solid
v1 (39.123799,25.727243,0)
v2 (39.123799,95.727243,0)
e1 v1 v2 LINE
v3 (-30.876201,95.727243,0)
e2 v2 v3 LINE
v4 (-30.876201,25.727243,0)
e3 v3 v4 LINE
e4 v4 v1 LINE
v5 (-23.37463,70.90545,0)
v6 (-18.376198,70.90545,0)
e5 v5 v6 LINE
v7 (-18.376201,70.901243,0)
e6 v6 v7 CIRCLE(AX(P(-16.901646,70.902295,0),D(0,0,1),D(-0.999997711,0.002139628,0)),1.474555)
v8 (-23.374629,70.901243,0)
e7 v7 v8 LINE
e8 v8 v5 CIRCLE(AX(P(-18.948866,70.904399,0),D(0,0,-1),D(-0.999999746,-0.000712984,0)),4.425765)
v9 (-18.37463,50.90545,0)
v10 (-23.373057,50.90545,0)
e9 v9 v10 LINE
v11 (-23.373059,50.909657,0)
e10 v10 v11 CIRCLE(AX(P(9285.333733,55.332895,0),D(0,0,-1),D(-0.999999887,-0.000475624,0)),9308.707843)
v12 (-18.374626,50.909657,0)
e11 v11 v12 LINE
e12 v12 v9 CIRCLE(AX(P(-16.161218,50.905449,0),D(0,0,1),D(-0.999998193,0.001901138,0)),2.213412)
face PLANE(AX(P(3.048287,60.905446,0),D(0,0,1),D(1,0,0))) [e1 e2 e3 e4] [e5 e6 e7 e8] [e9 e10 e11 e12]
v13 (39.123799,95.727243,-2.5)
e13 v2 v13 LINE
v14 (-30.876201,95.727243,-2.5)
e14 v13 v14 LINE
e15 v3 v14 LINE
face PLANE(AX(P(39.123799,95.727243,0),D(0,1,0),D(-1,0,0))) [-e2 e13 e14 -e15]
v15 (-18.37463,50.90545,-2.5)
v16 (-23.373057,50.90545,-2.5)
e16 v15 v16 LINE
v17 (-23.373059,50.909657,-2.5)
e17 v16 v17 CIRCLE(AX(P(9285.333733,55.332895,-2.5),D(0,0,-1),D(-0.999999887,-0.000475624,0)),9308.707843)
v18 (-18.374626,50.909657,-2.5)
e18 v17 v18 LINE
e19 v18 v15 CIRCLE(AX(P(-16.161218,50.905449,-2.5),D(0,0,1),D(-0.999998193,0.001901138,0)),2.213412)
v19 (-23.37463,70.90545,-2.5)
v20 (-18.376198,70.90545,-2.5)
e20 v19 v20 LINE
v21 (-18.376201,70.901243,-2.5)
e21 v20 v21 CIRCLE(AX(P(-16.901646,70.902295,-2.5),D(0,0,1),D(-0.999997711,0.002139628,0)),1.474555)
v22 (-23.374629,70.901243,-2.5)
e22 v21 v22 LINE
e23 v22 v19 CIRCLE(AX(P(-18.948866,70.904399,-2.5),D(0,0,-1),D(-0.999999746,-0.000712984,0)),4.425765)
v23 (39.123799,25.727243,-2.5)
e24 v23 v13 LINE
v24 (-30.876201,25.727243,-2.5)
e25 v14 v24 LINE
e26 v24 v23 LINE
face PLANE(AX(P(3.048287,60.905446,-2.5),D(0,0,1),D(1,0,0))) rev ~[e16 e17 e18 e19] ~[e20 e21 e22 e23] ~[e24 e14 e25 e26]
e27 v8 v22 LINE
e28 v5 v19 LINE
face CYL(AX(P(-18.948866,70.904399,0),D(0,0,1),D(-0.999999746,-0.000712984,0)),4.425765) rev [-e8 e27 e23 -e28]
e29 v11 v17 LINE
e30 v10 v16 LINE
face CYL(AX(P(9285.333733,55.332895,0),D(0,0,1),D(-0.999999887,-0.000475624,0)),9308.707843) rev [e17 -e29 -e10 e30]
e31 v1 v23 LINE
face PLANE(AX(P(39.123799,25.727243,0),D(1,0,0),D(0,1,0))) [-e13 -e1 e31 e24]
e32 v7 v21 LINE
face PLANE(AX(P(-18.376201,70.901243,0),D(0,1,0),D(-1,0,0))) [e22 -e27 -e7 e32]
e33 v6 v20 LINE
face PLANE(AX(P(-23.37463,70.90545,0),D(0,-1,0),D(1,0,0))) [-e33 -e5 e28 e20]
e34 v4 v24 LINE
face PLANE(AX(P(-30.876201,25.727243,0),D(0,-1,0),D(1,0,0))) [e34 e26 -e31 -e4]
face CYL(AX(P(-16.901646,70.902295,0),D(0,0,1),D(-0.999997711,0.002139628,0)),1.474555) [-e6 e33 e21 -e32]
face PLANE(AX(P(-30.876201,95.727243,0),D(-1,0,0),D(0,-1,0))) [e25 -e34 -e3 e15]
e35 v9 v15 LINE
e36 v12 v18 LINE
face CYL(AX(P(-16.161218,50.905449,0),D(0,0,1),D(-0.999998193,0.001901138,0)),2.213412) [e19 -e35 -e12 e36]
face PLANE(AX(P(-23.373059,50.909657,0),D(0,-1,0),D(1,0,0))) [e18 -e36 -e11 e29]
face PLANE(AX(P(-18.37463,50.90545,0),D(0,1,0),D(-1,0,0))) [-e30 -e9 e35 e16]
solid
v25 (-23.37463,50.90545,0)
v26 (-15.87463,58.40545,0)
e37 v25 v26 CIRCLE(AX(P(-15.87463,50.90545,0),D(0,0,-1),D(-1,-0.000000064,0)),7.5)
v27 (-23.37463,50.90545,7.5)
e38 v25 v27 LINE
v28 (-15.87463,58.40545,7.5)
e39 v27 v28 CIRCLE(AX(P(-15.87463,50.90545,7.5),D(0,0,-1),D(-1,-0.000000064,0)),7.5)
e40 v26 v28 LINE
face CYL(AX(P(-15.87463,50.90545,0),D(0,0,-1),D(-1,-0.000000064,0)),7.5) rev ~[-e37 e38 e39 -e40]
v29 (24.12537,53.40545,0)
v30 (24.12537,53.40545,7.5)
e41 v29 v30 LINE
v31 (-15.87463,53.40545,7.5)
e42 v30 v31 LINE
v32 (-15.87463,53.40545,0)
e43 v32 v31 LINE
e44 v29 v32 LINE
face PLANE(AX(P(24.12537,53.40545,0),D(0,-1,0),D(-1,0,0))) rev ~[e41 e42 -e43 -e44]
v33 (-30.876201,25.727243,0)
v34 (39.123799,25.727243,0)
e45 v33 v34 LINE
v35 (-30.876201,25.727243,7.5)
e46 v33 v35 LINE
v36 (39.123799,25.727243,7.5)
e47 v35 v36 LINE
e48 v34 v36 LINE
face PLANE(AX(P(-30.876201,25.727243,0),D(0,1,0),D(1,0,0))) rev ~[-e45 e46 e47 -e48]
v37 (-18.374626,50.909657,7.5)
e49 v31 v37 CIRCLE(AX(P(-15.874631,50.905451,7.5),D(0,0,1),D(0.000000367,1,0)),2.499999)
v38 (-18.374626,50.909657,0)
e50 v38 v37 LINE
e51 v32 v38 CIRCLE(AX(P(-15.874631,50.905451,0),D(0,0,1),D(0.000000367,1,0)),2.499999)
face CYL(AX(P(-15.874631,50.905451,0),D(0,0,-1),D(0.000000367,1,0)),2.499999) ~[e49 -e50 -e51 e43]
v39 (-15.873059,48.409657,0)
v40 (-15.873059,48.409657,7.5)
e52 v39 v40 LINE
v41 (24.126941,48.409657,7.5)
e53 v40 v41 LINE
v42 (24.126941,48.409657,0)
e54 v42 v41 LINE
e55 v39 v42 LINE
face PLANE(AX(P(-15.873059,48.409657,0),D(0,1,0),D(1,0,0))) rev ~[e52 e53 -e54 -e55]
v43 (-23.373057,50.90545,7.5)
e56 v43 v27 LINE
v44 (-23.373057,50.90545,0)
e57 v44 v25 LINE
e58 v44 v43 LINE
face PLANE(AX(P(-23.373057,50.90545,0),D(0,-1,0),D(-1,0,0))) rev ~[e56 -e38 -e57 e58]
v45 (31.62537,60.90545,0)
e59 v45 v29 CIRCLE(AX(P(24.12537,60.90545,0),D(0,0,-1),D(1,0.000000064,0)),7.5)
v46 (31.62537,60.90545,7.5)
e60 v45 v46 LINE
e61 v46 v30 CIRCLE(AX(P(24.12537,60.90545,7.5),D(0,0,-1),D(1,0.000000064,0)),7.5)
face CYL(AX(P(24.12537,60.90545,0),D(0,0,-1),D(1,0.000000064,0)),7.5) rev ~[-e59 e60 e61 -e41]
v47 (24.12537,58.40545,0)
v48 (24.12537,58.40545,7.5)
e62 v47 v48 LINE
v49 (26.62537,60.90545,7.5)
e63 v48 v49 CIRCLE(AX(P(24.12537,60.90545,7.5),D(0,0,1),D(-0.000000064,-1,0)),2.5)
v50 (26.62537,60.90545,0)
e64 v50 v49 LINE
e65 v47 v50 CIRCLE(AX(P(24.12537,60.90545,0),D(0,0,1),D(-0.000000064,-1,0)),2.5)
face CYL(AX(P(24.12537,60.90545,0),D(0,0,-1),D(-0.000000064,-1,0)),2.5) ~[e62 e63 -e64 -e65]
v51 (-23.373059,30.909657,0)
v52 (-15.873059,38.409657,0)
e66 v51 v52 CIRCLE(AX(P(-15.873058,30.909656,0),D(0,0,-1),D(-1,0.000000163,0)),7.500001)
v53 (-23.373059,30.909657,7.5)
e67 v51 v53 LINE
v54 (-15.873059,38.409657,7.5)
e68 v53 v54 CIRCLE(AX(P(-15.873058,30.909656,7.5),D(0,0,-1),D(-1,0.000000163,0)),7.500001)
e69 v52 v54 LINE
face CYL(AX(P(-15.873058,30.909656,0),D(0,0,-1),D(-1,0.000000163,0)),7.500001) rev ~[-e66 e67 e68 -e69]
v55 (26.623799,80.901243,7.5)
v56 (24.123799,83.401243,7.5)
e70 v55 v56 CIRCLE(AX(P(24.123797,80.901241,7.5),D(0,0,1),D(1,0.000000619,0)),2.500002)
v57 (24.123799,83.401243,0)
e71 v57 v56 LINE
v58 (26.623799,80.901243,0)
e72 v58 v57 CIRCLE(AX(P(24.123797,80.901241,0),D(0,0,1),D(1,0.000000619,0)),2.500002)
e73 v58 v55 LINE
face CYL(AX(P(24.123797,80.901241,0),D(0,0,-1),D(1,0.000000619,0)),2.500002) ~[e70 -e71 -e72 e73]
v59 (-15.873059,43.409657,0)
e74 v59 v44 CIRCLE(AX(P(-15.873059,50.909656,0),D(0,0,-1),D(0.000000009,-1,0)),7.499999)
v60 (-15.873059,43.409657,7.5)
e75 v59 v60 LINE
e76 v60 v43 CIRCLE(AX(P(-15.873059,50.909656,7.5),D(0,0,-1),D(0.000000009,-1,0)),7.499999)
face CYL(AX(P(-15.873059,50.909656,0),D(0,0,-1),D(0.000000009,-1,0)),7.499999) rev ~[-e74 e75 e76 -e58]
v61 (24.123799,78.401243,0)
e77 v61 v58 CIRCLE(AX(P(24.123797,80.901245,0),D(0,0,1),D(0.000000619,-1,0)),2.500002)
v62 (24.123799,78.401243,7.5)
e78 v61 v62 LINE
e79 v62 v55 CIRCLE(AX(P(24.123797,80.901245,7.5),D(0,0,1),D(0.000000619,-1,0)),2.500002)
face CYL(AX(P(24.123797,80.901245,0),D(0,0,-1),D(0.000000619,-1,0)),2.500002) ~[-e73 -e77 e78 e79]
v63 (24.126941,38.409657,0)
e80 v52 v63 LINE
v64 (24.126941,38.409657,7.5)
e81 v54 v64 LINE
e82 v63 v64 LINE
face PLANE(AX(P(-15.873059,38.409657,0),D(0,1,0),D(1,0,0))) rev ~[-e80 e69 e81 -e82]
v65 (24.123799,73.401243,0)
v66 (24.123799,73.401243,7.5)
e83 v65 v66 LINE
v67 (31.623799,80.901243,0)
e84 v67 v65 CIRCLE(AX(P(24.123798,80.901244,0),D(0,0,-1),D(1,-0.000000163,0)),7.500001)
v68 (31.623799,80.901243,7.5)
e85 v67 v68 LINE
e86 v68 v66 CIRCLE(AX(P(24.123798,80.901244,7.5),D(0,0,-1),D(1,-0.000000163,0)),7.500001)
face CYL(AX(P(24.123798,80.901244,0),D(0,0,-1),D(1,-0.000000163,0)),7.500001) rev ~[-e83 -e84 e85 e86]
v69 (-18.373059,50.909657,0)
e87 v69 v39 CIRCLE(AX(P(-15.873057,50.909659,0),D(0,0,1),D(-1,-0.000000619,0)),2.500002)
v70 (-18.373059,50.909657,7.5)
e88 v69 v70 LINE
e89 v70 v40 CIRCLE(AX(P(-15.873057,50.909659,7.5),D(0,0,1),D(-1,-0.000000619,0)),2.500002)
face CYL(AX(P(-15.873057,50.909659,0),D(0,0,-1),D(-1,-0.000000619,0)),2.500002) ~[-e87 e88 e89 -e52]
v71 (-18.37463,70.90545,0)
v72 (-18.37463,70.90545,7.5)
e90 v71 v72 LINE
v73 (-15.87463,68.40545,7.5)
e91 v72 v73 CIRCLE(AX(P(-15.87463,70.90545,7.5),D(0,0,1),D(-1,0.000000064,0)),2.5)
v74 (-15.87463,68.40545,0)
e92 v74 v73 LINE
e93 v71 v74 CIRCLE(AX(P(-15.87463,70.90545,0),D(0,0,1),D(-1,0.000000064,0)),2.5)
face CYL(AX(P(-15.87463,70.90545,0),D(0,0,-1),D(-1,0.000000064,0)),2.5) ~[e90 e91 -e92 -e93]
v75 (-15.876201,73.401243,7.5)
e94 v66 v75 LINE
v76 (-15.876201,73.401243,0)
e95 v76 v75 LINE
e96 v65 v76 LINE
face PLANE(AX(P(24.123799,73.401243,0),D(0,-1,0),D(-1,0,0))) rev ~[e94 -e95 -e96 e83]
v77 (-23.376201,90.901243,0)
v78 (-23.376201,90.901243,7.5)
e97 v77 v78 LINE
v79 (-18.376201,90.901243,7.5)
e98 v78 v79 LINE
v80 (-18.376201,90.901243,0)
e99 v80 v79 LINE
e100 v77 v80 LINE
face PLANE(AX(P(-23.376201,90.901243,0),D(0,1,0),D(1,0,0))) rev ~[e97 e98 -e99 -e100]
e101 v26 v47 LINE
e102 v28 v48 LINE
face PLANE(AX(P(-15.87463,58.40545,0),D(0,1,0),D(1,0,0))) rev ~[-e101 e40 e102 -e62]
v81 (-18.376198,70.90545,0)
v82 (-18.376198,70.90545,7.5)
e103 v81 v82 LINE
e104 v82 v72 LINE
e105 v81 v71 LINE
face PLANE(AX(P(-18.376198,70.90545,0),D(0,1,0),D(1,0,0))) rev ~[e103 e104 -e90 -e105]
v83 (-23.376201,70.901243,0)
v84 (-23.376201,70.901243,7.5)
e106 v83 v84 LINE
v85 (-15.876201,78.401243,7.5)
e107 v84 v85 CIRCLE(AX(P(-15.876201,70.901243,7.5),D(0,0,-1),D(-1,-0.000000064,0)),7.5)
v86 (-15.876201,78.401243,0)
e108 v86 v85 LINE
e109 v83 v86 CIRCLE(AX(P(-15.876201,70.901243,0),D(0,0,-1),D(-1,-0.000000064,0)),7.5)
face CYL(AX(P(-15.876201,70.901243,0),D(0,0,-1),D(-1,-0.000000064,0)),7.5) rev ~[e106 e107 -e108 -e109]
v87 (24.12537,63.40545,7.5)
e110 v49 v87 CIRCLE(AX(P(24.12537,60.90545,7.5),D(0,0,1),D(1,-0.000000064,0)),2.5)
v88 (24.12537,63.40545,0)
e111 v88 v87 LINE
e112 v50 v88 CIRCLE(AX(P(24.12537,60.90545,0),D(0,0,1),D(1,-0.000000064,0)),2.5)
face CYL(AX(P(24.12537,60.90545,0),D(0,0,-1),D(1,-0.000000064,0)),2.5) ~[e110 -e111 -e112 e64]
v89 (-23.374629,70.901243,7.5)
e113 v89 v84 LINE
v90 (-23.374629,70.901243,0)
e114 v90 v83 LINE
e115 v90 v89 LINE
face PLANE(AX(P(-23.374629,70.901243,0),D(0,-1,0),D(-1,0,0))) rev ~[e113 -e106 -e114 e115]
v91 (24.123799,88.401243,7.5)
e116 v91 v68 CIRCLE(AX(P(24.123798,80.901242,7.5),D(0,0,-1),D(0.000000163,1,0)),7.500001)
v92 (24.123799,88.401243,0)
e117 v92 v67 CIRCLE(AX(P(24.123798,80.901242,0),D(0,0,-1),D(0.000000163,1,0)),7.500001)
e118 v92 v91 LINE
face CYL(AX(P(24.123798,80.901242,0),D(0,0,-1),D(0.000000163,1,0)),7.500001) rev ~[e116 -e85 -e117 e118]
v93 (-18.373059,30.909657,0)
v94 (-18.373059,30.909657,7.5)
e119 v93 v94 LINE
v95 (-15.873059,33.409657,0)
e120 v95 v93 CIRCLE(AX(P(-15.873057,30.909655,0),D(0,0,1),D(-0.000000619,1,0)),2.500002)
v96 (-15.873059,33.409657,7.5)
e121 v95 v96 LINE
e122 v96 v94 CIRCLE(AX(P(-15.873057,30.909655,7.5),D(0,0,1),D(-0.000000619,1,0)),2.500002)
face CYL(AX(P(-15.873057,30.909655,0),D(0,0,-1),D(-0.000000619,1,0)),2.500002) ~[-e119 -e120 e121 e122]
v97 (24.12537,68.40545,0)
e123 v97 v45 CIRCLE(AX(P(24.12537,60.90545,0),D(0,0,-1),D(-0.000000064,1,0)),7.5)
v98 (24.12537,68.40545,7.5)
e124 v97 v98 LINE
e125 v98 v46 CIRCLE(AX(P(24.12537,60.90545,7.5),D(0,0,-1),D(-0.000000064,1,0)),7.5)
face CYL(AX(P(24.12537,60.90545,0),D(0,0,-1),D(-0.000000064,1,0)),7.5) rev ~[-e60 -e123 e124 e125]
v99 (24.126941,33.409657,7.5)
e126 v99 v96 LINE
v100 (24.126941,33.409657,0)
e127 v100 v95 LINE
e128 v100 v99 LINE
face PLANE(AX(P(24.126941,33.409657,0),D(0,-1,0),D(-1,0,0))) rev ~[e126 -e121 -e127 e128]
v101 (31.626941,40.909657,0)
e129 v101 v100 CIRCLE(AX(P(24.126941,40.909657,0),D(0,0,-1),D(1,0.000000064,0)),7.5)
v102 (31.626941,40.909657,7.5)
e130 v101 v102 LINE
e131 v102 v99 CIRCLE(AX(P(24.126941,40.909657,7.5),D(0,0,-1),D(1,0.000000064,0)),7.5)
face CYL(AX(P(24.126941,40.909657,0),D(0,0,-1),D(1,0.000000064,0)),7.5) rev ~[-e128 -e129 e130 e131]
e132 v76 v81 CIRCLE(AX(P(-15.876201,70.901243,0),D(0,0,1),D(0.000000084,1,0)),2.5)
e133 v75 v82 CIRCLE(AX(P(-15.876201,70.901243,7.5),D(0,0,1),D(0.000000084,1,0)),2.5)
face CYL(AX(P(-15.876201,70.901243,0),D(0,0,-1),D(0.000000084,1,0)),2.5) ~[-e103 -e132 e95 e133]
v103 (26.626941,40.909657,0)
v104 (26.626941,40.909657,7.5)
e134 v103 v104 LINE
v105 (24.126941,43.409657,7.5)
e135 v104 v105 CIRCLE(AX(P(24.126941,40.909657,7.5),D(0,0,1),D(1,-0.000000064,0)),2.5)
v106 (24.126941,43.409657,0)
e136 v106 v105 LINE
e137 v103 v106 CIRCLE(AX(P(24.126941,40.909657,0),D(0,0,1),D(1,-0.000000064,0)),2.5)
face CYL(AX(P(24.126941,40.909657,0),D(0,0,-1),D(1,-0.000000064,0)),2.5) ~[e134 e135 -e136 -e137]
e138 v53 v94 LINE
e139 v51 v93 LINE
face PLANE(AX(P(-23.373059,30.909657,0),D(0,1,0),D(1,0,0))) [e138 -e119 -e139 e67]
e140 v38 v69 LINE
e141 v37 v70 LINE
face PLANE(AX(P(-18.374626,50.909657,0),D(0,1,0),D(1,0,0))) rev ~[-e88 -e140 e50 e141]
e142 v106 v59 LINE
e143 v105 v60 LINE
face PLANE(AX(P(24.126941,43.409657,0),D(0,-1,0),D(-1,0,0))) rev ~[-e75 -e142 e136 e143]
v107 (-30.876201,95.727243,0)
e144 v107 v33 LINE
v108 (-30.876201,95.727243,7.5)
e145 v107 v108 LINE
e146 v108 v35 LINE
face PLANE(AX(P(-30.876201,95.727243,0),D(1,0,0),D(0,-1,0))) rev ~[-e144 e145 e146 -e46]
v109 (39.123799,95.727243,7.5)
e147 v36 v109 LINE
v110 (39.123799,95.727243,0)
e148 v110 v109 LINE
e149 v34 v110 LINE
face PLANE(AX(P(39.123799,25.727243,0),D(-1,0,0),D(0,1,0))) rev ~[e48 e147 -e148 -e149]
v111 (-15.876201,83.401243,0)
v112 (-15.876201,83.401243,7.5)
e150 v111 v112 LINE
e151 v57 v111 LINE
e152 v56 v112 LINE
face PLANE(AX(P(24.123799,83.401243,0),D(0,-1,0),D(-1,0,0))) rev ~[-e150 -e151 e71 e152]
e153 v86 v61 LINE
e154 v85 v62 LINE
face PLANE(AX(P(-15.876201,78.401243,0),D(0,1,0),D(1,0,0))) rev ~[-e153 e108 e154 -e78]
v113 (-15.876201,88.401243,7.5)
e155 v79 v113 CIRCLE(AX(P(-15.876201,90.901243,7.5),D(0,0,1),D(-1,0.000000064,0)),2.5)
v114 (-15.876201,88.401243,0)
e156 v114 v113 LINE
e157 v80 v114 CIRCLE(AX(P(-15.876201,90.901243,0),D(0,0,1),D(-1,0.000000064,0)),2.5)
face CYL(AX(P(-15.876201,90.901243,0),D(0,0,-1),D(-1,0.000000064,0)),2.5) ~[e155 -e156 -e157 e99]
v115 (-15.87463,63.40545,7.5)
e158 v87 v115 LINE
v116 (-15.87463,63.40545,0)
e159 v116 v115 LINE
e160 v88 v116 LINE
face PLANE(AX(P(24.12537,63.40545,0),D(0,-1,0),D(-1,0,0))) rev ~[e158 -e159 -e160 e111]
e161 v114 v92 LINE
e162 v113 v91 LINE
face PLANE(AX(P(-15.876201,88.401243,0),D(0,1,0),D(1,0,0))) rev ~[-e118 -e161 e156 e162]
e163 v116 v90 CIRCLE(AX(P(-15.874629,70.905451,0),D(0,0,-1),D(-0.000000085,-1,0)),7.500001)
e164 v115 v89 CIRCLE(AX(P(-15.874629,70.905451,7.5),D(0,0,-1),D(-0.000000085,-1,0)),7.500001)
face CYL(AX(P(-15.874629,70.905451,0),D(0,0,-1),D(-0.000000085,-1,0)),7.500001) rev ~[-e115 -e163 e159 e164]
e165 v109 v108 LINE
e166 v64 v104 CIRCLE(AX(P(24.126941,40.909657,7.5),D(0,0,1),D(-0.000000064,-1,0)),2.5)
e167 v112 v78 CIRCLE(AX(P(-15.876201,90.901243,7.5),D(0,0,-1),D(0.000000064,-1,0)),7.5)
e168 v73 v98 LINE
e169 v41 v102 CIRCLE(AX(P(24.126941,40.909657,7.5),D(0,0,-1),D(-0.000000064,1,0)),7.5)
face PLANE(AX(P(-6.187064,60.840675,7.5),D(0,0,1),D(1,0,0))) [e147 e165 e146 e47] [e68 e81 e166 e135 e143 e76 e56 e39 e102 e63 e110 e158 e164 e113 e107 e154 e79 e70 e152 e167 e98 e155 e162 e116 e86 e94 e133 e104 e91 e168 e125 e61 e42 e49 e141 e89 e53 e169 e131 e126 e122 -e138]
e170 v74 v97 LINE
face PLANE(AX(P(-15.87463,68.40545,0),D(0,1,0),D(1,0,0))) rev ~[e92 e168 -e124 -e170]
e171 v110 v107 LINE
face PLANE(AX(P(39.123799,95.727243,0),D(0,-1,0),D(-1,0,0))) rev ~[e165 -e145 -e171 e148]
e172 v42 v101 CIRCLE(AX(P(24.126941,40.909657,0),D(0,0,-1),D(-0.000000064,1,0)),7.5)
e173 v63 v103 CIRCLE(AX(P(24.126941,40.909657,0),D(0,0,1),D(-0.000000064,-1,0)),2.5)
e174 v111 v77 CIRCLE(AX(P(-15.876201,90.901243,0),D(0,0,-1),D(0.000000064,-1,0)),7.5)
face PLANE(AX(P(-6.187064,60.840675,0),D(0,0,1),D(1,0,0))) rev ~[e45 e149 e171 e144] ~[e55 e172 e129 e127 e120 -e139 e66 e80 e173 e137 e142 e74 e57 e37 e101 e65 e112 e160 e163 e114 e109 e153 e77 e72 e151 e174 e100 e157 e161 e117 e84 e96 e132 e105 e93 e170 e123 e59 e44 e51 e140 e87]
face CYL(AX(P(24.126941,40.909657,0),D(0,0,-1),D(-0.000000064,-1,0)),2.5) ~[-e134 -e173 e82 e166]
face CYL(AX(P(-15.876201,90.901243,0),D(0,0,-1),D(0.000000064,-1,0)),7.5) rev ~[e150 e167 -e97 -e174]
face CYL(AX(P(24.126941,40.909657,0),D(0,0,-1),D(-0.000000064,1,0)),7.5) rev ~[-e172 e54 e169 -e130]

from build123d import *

# Parameters (mm, degrees)
F0_W     = 5
F0_H     = 4.826
F0_H_2   = 5.182414
F1_DEPTH = 7.5
F2_DEPTH = 2.5


with BuildPart() as f1:
    # F0 (on Top) → F1 (new body)
    with BuildSketch(Plane.XY):
        with BuildLine():
            ThreePointArc((-15.873059, 43.409657), (-21.174872, 45.604869), (-23.373057, 50.90545))
            Line((-23.373057, 50.90545), (-23.37463, 50.90545))
            ThreePointArc((-23.37463, 50.90545), (-21.177931, 56.208751), (-15.87463, 58.40545))
            Line((-15.87463, 58.40545), (24.12537, 58.40545))
            ThreePointArc((24.12537, 58.40545), (25.893137, 59.137683), (26.62537, 60.90545))
            ThreePointArc((26.62537, 60.90545), (25.893137, 62.673217), (24.12537, 63.40545))
            Line((24.12537, 63.40545), (-15.87463, 63.40545))
            ThreePointArc((-15.87463, 63.40545), (-21.176443, 65.600662), (-23.374629, 70.901243))
            Line((-23.374629, 70.901243), (-23.376201, 70.901243))
            ThreePointArc((-23.376201, 70.901243), (-21.179502, 76.204544), (-15.876201, 78.401243))
            Line((-15.876201, 78.401243), (24.123799, 78.401243))
            ThreePointArc((24.123799, 78.401243), (25.891565, 79.133476), (26.623799, 80.901243))
            ThreePointArc((26.623799, 80.901243), (25.891565, 82.66901), (24.123799, 83.401243))
            Line((24.123799, 83.401243), (-15.876201, 83.401243))
            ThreePointArc((-15.876201, 83.401243), (-21.179502, 85.597942), (-23.376201, 90.901243))
            Line((-23.376201, 90.901243), (-23.376201, 95.727243))
            Line((-23.376201, 95.727243), (-30.876201, 95.727243))
            Line((-30.876201, 95.727243), (-30.876201, 25.727243))
            Line((-30.876201, 25.727243), (-23.373059, 25.727243))
            Line((-23.373059, 25.727243), (-23.373059, 30.909657))
            ThreePointArc((-23.373059, 30.909657), (-21.176359, 36.212958), (-15.873059, 38.409657))
            Line((-15.873059, 38.409657), (24.126941, 38.409657))
            ThreePointArc((24.126941, 38.409657), (25.894708, 39.14189), (26.626941, 40.909657))
            ThreePointArc((26.626941, 40.909657), (25.894708, 42.677424), (24.126941, 43.409657))
            Line((24.126941, 43.409657), (-15.873059, 43.409657))
        make_face()
        with BuildLine():
            ThreePointArc((-15.87463, 53.40545), (-17.640909, 52.674704), (-18.374626, 50.909657))
            Line((-18.374626, 50.909657), (-18.373059, 50.909657))
            ThreePointArc((-18.373059, 50.909657), (-17.640825, 49.14189), (-15.873059, 48.409657))
            Line((-15.873059, 48.409657), (24.126941, 48.409657))
            ThreePointArc((24.126941, 48.409657), (29.430242, 46.212958), (31.626941, 40.909657))
            ThreePointArc((31.626941, 40.909657), (29.430242, 35.606356), (24.126941, 33.409657))
            Line((24.126941, 33.409657), (-15.873059, 33.409657))
            ThreePointArc((-15.873059, 33.409657), (-17.640825, 32.677424), (-18.373059, 30.909657))
            Line((-18.373059, 30.909657), (-18.373059, 25.727243))
            Line((-18.373059, 25.727243), (39.123799, 25.727243))
            Line((39.123799, 25.727243), (39.123799, 95.727243))
            Line((39.123799, 95.727243), (-18.376201, 95.727243))
            Line((-18.376201, 95.727243), (-18.376201, 90.901243))
            ThreePointArc((-18.376201, 90.901243), (-17.643968, 89.133476), (-15.876201, 88.401243))
            Line((-15.876201, 88.401243), (24.123799, 88.401243))
            ThreePointArc((24.123799, 88.401243), (29.427099, 86.204544), (31.623799, 80.901243))
            ThreePointArc((31.623799, 80.901243), (29.427099, 75.597942), (24.123799, 73.401243))
            Line((24.123799, 73.401243), (-15.876201, 73.401243))
            ThreePointArc((-15.876201, 73.401243), (-17.64248, 72.670497), (-18.376198, 70.90545))
            Line((-18.376198, 70.90545), (-18.37463, 70.90545))
            ThreePointArc((-18.37463, 70.90545), (-17.642397, 69.137683), (-15.87463, 68.40545))
            Line((-15.87463, 68.40545), (24.12537, 68.40545))
            ThreePointArc((24.12537, 68.40545), (29.428671, 66.208751), (31.62537, 60.90545))
            ThreePointArc((31.62537, 60.90545), (29.428671, 55.602149), (24.12537, 53.40545))
            Line((24.12537, 53.40545), (-15.87463, 53.40545))
        make_face()
        with Locations((-20.876201, 93.314243)):
            Rectangle(F0_W, F0_H)
        with Locations((-20.873059, 28.31845)):
            Rectangle(F0_W, F0_H_2)
    extrude(amount=F1_DEPTH)


with BuildPart() as f2:
    # F0 (on Top) → F2 (new body)
    with BuildSketch(Plane.XY):
        with BuildLine():
            ThreePointArc((-23.373057, 50.90545), (-23.373058, 50.907553), (-23.373059, 50.909657))
            Line((-23.373059, 50.909657), (-18.374626, 50.909657))
            ThreePointArc((-18.374626, 50.909657), (-17.640909, 52.674704), (-15.87463, 53.40545))
            Line((-15.87463, 53.40545), (24.12537, 53.40545))
            ThreePointArc((24.12537, 53.40545), (29.428671, 55.602149), (31.62537, 60.90545))
            ThreePointArc((31.62537, 60.90545), (29.428671, 66.208751), (24.12537, 68.40545))
            Line((24.12537, 68.40545), (-15.87463, 68.40545))
            ThreePointArc((-15.87463, 68.40545), (-17.642397, 69.137683), (-18.37463, 70.90545))
            Line((-18.37463, 70.90545), (-18.376198, 70.90545))
            ThreePointArc((-18.376198, 70.90545), (-18.376201, 70.903347), (-18.376201, 70.901243))
            Line((-18.376201, 70.901243), (-23.374629, 70.901243))
            ThreePointArc((-23.374629, 70.901243), (-21.176443, 65.600662), (-15.87463, 63.40545))
            Line((-15.87463, 63.40545), (24.12537, 63.40545))
            ThreePointArc((24.12537, 63.40545), (25.893137, 62.673217), (26.62537, 60.90545))
            ThreePointArc((26.62537, 60.90545), (25.893137, 59.137683), (24.12537, 58.40545))
            Line((24.12537, 58.40545), (-15.87463, 58.40545))
            ThreePointArc((-15.87463, 58.40545), (-21.177931, 56.208751), (-23.37463, 50.90545))
            Line((-23.37463, 50.90545), (-23.373057, 50.90545))
        make_face()
        with BuildLine():
            Line((-18.373059, 50.909657), (-18.374626, 50.909657))
            ThreePointArc((-18.374626, 50.909657), (-18.374629, 50.907553), (-18.37463, 50.90545))
            Line((-18.37463, 50.90545), (-23.373057, 50.90545))
            ThreePointArc((-23.373057, 50.90545), (-21.174872, 45.604869), (-15.873059, 43.409657))
            Line((-15.873059, 43.409657), (24.126941, 43.409657))
            ThreePointArc((24.126941, 43.409657), (25.894708, 42.677424), (26.626941, 40.909657))
            ThreePointArc((26.626941, 40.909657), (25.894708, 39.14189), (24.126941, 38.409657))
            Line((24.126941, 38.409657), (-15.873059, 38.409657))
            ThreePointArc((-15.873059, 38.409657), (-21.176359, 36.212958), (-23.373059, 30.909657))
            Line((-23.373059, 30.909657), (-18.373059, 30.909657))
            ThreePointArc((-18.373059, 30.909657), (-17.640825, 32.677424), (-15.873059, 33.409657))
            Line((-15.873059, 33.409657), (24.126941, 33.409657))
            ThreePointArc((24.126941, 33.409657), (29.430242, 35.606356), (31.626941, 40.909657))
            ThreePointArc((31.626941, 40.909657), (29.430242, 46.212958), (24.126941, 48.409657))
            Line((24.126941, 48.409657), (-15.873059, 48.409657))
            ThreePointArc((-15.873059, 48.409657), (-17.640825, 49.14189), (-18.373059, 50.909657))
        make_face()
        with Locations((-20.876201, 93.314243)):
            Rectangle(F0_W, F0_H)
        with Locations((-20.873059, 28.31845)):
            Rectangle(F0_W, F0_H_2)
        with BuildLine():
            ThreePointArc((-15.873059, 43.409657), (-21.174872, 45.604869), (-23.373057, 50.90545))
            Line((-23.373057, 50.90545), (-23.37463, 50.90545))
            ThreePointArc((-23.37463, 50.90545), (-21.177931, 56.208751), (-15.87463, 58.40545))
            Line((-15.87463, 58.40545), (24.12537, 58.40545))
            ThreePointArc((24.12537, 58.40545), (25.893137, 59.137683), (26.62537, 60.90545))
            ThreePointArc((26.62537, 60.90545), (25.893137, 62.673217), (24.12537, 63.40545))
            Line((24.12537, 63.40545), (-15.87463, 63.40545))
            ThreePointArc((-15.87463, 63.40545), (-21.176443, 65.600662), (-23.374629, 70.901243))
            Line((-23.374629, 70.901243), (-23.376201, 70.901243))
            ThreePointArc((-23.376201, 70.901243), (-21.179502, 76.204544), (-15.876201, 78.401243))
            Line((-15.876201, 78.401243), (24.123799, 78.401243))
            ThreePointArc((24.123799, 78.401243), (25.891565, 79.133476), (26.623799, 80.901243))
            ThreePointArc((26.623799, 80.901243), (25.891565, 82.66901), (24.123799, 83.401243))
            Line((24.123799, 83.401243), (-15.876201, 83.401243))
            ThreePointArc((-15.876201, 83.401243), (-21.179502, 85.597942), (-23.376201, 90.901243))
            Line((-23.376201, 90.901243), (-23.376201, 95.727243))
            Line((-23.376201, 95.727243), (-30.876201, 95.727243))
            Line((-30.876201, 95.727243), (-30.876201, 25.727243))
            Line((-30.876201, 25.727243), (-23.373059, 25.727243))
            Line((-23.373059, 25.727243), (-23.373059, 30.909657))
            ThreePointArc((-23.373059, 30.909657), (-21.176359, 36.212958), (-15.873059, 38.409657))
            Line((-15.873059, 38.409657), (24.126941, 38.409657))
            ThreePointArc((24.126941, 38.409657), (25.894708, 39.14189), (26.626941, 40.909657))
            ThreePointArc((26.626941, 40.909657), (25.894708, 42.677424), (24.126941, 43.409657))
            Line((24.126941, 43.409657), (-15.873059, 43.409657))
        make_face()
        with BuildLine():
            Line((-23.37463, 70.90545), (-18.376198, 70.90545))
            ThreePointArc((-18.376198, 70.90545), (-17.64248, 72.670497), (-15.876201, 73.401243))
            Line((-15.876201, 73.401243), (24.123799, 73.401243))
            ThreePointArc((24.123799, 73.401243), (29.427099, 75.597942), (31.623799, 80.901243))
            ThreePointArc((31.623799, 80.901243), (29.427099, 86.204544), (24.123799, 88.401243))
            Line((24.123799, 88.401243), (-15.876201, 88.401243))
            ThreePointArc((-15.876201, 88.401243), (-17.643968, 89.133476), (-18.376201, 90.901243))
            Line((-18.376201, 90.901243), (-23.376201, 90.901243))
            ThreePointArc((-23.376201, 90.901243), (-21.179502, 85.597942), (-15.876201, 83.401243))
            Line((-15.876201, 83.401243), (24.123799, 83.401243))
            ThreePointArc((24.123799, 83.401243), (25.891565, 82.66901), (26.623799, 80.901243))
            ThreePointArc((26.623799, 80.901243), (25.891565, 79.133476), (24.123799, 78.401243))
            Line((24.123799, 78.401243), (-15.876201, 78.401243))
            ThreePointArc((-15.876201, 78.401243), (-21.179502, 76.204544), (-23.376201, 70.901243))
            Line((-23.376201, 70.901243), (-23.374629, 70.901243))
            ThreePointArc((-23.374629, 70.901243), (-23.37463, 70.903347), (-23.37463, 70.90545))
        make_face()
        with BuildLine():
            ThreePointArc((-15.87463, 53.40545), (-17.640909, 52.674704), (-18.374626, 50.909657))
            Line((-18.374626, 50.909657), (-18.373059, 50.909657))
            ThreePointArc((-18.373059, 50.909657), (-17.640825, 49.14189), (-15.873059, 48.409657))
            Line((-15.873059, 48.409657), (24.126941, 48.409657))
            ThreePointArc((24.126941, 48.409657), (29.430242, 46.212958), (31.626941, 40.909657))
            ThreePointArc((31.626941, 40.909657), (29.430242, 35.606356), (24.126941, 33.409657))
            Line((24.126941, 33.409657), (-15.873059, 33.409657))
            ThreePointArc((-15.873059, 33.409657), (-17.640825, 32.677424), (-18.373059, 30.909657))
            Line((-18.373059, 30.909657), (-18.373059, 25.727243))
            Line((-18.373059, 25.727243), (39.123799, 25.727243))
            Line((39.123799, 25.727243), (39.123799, 95.727243))
            Line((39.123799, 95.727243), (-18.376201, 95.727243))
            Line((-18.376201, 95.727243), (-18.376201, 90.901243))
            ThreePointArc((-18.376201, 90.901243), (-17.643968, 89.133476), (-15.876201, 88.401243))
            Line((-15.876201, 88.401243), (24.123799, 88.401243))
            ThreePointArc((24.123799, 88.401243), (29.427099, 86.204544), (31.623799, 80.901243))
            ThreePointArc((31.623799, 80.901243), (29.427099, 75.597942), (24.123799, 73.401243))
            Line((24.123799, 73.401243), (-15.876201, 73.401243))
            ThreePointArc((-15.876201, 73.401243), (-17.64248, 72.670497), (-18.376198, 70.90545))
            Line((-18.376198, 70.90545), (-18.37463, 70.90545))
            ThreePointArc((-18.37463, 70.90545), (-17.642397, 69.137683), (-15.87463, 68.40545))
            Line((-15.87463, 68.40545), (24.12537, 68.40545))
            ThreePointArc((24.12537, 68.40545), (29.428671, 66.208751), (31.62537, 60.90545))
            ThreePointArc((31.62537, 60.90545), (29.428671, 55.602149), (24.12537, 53.40545))
            Line((24.12537, 53.40545), (-15.87463, 53.40545))
        make_face()
    extrude(amount=-F2_DEPTH)


solid = Compound([f1.part, f2.part])
